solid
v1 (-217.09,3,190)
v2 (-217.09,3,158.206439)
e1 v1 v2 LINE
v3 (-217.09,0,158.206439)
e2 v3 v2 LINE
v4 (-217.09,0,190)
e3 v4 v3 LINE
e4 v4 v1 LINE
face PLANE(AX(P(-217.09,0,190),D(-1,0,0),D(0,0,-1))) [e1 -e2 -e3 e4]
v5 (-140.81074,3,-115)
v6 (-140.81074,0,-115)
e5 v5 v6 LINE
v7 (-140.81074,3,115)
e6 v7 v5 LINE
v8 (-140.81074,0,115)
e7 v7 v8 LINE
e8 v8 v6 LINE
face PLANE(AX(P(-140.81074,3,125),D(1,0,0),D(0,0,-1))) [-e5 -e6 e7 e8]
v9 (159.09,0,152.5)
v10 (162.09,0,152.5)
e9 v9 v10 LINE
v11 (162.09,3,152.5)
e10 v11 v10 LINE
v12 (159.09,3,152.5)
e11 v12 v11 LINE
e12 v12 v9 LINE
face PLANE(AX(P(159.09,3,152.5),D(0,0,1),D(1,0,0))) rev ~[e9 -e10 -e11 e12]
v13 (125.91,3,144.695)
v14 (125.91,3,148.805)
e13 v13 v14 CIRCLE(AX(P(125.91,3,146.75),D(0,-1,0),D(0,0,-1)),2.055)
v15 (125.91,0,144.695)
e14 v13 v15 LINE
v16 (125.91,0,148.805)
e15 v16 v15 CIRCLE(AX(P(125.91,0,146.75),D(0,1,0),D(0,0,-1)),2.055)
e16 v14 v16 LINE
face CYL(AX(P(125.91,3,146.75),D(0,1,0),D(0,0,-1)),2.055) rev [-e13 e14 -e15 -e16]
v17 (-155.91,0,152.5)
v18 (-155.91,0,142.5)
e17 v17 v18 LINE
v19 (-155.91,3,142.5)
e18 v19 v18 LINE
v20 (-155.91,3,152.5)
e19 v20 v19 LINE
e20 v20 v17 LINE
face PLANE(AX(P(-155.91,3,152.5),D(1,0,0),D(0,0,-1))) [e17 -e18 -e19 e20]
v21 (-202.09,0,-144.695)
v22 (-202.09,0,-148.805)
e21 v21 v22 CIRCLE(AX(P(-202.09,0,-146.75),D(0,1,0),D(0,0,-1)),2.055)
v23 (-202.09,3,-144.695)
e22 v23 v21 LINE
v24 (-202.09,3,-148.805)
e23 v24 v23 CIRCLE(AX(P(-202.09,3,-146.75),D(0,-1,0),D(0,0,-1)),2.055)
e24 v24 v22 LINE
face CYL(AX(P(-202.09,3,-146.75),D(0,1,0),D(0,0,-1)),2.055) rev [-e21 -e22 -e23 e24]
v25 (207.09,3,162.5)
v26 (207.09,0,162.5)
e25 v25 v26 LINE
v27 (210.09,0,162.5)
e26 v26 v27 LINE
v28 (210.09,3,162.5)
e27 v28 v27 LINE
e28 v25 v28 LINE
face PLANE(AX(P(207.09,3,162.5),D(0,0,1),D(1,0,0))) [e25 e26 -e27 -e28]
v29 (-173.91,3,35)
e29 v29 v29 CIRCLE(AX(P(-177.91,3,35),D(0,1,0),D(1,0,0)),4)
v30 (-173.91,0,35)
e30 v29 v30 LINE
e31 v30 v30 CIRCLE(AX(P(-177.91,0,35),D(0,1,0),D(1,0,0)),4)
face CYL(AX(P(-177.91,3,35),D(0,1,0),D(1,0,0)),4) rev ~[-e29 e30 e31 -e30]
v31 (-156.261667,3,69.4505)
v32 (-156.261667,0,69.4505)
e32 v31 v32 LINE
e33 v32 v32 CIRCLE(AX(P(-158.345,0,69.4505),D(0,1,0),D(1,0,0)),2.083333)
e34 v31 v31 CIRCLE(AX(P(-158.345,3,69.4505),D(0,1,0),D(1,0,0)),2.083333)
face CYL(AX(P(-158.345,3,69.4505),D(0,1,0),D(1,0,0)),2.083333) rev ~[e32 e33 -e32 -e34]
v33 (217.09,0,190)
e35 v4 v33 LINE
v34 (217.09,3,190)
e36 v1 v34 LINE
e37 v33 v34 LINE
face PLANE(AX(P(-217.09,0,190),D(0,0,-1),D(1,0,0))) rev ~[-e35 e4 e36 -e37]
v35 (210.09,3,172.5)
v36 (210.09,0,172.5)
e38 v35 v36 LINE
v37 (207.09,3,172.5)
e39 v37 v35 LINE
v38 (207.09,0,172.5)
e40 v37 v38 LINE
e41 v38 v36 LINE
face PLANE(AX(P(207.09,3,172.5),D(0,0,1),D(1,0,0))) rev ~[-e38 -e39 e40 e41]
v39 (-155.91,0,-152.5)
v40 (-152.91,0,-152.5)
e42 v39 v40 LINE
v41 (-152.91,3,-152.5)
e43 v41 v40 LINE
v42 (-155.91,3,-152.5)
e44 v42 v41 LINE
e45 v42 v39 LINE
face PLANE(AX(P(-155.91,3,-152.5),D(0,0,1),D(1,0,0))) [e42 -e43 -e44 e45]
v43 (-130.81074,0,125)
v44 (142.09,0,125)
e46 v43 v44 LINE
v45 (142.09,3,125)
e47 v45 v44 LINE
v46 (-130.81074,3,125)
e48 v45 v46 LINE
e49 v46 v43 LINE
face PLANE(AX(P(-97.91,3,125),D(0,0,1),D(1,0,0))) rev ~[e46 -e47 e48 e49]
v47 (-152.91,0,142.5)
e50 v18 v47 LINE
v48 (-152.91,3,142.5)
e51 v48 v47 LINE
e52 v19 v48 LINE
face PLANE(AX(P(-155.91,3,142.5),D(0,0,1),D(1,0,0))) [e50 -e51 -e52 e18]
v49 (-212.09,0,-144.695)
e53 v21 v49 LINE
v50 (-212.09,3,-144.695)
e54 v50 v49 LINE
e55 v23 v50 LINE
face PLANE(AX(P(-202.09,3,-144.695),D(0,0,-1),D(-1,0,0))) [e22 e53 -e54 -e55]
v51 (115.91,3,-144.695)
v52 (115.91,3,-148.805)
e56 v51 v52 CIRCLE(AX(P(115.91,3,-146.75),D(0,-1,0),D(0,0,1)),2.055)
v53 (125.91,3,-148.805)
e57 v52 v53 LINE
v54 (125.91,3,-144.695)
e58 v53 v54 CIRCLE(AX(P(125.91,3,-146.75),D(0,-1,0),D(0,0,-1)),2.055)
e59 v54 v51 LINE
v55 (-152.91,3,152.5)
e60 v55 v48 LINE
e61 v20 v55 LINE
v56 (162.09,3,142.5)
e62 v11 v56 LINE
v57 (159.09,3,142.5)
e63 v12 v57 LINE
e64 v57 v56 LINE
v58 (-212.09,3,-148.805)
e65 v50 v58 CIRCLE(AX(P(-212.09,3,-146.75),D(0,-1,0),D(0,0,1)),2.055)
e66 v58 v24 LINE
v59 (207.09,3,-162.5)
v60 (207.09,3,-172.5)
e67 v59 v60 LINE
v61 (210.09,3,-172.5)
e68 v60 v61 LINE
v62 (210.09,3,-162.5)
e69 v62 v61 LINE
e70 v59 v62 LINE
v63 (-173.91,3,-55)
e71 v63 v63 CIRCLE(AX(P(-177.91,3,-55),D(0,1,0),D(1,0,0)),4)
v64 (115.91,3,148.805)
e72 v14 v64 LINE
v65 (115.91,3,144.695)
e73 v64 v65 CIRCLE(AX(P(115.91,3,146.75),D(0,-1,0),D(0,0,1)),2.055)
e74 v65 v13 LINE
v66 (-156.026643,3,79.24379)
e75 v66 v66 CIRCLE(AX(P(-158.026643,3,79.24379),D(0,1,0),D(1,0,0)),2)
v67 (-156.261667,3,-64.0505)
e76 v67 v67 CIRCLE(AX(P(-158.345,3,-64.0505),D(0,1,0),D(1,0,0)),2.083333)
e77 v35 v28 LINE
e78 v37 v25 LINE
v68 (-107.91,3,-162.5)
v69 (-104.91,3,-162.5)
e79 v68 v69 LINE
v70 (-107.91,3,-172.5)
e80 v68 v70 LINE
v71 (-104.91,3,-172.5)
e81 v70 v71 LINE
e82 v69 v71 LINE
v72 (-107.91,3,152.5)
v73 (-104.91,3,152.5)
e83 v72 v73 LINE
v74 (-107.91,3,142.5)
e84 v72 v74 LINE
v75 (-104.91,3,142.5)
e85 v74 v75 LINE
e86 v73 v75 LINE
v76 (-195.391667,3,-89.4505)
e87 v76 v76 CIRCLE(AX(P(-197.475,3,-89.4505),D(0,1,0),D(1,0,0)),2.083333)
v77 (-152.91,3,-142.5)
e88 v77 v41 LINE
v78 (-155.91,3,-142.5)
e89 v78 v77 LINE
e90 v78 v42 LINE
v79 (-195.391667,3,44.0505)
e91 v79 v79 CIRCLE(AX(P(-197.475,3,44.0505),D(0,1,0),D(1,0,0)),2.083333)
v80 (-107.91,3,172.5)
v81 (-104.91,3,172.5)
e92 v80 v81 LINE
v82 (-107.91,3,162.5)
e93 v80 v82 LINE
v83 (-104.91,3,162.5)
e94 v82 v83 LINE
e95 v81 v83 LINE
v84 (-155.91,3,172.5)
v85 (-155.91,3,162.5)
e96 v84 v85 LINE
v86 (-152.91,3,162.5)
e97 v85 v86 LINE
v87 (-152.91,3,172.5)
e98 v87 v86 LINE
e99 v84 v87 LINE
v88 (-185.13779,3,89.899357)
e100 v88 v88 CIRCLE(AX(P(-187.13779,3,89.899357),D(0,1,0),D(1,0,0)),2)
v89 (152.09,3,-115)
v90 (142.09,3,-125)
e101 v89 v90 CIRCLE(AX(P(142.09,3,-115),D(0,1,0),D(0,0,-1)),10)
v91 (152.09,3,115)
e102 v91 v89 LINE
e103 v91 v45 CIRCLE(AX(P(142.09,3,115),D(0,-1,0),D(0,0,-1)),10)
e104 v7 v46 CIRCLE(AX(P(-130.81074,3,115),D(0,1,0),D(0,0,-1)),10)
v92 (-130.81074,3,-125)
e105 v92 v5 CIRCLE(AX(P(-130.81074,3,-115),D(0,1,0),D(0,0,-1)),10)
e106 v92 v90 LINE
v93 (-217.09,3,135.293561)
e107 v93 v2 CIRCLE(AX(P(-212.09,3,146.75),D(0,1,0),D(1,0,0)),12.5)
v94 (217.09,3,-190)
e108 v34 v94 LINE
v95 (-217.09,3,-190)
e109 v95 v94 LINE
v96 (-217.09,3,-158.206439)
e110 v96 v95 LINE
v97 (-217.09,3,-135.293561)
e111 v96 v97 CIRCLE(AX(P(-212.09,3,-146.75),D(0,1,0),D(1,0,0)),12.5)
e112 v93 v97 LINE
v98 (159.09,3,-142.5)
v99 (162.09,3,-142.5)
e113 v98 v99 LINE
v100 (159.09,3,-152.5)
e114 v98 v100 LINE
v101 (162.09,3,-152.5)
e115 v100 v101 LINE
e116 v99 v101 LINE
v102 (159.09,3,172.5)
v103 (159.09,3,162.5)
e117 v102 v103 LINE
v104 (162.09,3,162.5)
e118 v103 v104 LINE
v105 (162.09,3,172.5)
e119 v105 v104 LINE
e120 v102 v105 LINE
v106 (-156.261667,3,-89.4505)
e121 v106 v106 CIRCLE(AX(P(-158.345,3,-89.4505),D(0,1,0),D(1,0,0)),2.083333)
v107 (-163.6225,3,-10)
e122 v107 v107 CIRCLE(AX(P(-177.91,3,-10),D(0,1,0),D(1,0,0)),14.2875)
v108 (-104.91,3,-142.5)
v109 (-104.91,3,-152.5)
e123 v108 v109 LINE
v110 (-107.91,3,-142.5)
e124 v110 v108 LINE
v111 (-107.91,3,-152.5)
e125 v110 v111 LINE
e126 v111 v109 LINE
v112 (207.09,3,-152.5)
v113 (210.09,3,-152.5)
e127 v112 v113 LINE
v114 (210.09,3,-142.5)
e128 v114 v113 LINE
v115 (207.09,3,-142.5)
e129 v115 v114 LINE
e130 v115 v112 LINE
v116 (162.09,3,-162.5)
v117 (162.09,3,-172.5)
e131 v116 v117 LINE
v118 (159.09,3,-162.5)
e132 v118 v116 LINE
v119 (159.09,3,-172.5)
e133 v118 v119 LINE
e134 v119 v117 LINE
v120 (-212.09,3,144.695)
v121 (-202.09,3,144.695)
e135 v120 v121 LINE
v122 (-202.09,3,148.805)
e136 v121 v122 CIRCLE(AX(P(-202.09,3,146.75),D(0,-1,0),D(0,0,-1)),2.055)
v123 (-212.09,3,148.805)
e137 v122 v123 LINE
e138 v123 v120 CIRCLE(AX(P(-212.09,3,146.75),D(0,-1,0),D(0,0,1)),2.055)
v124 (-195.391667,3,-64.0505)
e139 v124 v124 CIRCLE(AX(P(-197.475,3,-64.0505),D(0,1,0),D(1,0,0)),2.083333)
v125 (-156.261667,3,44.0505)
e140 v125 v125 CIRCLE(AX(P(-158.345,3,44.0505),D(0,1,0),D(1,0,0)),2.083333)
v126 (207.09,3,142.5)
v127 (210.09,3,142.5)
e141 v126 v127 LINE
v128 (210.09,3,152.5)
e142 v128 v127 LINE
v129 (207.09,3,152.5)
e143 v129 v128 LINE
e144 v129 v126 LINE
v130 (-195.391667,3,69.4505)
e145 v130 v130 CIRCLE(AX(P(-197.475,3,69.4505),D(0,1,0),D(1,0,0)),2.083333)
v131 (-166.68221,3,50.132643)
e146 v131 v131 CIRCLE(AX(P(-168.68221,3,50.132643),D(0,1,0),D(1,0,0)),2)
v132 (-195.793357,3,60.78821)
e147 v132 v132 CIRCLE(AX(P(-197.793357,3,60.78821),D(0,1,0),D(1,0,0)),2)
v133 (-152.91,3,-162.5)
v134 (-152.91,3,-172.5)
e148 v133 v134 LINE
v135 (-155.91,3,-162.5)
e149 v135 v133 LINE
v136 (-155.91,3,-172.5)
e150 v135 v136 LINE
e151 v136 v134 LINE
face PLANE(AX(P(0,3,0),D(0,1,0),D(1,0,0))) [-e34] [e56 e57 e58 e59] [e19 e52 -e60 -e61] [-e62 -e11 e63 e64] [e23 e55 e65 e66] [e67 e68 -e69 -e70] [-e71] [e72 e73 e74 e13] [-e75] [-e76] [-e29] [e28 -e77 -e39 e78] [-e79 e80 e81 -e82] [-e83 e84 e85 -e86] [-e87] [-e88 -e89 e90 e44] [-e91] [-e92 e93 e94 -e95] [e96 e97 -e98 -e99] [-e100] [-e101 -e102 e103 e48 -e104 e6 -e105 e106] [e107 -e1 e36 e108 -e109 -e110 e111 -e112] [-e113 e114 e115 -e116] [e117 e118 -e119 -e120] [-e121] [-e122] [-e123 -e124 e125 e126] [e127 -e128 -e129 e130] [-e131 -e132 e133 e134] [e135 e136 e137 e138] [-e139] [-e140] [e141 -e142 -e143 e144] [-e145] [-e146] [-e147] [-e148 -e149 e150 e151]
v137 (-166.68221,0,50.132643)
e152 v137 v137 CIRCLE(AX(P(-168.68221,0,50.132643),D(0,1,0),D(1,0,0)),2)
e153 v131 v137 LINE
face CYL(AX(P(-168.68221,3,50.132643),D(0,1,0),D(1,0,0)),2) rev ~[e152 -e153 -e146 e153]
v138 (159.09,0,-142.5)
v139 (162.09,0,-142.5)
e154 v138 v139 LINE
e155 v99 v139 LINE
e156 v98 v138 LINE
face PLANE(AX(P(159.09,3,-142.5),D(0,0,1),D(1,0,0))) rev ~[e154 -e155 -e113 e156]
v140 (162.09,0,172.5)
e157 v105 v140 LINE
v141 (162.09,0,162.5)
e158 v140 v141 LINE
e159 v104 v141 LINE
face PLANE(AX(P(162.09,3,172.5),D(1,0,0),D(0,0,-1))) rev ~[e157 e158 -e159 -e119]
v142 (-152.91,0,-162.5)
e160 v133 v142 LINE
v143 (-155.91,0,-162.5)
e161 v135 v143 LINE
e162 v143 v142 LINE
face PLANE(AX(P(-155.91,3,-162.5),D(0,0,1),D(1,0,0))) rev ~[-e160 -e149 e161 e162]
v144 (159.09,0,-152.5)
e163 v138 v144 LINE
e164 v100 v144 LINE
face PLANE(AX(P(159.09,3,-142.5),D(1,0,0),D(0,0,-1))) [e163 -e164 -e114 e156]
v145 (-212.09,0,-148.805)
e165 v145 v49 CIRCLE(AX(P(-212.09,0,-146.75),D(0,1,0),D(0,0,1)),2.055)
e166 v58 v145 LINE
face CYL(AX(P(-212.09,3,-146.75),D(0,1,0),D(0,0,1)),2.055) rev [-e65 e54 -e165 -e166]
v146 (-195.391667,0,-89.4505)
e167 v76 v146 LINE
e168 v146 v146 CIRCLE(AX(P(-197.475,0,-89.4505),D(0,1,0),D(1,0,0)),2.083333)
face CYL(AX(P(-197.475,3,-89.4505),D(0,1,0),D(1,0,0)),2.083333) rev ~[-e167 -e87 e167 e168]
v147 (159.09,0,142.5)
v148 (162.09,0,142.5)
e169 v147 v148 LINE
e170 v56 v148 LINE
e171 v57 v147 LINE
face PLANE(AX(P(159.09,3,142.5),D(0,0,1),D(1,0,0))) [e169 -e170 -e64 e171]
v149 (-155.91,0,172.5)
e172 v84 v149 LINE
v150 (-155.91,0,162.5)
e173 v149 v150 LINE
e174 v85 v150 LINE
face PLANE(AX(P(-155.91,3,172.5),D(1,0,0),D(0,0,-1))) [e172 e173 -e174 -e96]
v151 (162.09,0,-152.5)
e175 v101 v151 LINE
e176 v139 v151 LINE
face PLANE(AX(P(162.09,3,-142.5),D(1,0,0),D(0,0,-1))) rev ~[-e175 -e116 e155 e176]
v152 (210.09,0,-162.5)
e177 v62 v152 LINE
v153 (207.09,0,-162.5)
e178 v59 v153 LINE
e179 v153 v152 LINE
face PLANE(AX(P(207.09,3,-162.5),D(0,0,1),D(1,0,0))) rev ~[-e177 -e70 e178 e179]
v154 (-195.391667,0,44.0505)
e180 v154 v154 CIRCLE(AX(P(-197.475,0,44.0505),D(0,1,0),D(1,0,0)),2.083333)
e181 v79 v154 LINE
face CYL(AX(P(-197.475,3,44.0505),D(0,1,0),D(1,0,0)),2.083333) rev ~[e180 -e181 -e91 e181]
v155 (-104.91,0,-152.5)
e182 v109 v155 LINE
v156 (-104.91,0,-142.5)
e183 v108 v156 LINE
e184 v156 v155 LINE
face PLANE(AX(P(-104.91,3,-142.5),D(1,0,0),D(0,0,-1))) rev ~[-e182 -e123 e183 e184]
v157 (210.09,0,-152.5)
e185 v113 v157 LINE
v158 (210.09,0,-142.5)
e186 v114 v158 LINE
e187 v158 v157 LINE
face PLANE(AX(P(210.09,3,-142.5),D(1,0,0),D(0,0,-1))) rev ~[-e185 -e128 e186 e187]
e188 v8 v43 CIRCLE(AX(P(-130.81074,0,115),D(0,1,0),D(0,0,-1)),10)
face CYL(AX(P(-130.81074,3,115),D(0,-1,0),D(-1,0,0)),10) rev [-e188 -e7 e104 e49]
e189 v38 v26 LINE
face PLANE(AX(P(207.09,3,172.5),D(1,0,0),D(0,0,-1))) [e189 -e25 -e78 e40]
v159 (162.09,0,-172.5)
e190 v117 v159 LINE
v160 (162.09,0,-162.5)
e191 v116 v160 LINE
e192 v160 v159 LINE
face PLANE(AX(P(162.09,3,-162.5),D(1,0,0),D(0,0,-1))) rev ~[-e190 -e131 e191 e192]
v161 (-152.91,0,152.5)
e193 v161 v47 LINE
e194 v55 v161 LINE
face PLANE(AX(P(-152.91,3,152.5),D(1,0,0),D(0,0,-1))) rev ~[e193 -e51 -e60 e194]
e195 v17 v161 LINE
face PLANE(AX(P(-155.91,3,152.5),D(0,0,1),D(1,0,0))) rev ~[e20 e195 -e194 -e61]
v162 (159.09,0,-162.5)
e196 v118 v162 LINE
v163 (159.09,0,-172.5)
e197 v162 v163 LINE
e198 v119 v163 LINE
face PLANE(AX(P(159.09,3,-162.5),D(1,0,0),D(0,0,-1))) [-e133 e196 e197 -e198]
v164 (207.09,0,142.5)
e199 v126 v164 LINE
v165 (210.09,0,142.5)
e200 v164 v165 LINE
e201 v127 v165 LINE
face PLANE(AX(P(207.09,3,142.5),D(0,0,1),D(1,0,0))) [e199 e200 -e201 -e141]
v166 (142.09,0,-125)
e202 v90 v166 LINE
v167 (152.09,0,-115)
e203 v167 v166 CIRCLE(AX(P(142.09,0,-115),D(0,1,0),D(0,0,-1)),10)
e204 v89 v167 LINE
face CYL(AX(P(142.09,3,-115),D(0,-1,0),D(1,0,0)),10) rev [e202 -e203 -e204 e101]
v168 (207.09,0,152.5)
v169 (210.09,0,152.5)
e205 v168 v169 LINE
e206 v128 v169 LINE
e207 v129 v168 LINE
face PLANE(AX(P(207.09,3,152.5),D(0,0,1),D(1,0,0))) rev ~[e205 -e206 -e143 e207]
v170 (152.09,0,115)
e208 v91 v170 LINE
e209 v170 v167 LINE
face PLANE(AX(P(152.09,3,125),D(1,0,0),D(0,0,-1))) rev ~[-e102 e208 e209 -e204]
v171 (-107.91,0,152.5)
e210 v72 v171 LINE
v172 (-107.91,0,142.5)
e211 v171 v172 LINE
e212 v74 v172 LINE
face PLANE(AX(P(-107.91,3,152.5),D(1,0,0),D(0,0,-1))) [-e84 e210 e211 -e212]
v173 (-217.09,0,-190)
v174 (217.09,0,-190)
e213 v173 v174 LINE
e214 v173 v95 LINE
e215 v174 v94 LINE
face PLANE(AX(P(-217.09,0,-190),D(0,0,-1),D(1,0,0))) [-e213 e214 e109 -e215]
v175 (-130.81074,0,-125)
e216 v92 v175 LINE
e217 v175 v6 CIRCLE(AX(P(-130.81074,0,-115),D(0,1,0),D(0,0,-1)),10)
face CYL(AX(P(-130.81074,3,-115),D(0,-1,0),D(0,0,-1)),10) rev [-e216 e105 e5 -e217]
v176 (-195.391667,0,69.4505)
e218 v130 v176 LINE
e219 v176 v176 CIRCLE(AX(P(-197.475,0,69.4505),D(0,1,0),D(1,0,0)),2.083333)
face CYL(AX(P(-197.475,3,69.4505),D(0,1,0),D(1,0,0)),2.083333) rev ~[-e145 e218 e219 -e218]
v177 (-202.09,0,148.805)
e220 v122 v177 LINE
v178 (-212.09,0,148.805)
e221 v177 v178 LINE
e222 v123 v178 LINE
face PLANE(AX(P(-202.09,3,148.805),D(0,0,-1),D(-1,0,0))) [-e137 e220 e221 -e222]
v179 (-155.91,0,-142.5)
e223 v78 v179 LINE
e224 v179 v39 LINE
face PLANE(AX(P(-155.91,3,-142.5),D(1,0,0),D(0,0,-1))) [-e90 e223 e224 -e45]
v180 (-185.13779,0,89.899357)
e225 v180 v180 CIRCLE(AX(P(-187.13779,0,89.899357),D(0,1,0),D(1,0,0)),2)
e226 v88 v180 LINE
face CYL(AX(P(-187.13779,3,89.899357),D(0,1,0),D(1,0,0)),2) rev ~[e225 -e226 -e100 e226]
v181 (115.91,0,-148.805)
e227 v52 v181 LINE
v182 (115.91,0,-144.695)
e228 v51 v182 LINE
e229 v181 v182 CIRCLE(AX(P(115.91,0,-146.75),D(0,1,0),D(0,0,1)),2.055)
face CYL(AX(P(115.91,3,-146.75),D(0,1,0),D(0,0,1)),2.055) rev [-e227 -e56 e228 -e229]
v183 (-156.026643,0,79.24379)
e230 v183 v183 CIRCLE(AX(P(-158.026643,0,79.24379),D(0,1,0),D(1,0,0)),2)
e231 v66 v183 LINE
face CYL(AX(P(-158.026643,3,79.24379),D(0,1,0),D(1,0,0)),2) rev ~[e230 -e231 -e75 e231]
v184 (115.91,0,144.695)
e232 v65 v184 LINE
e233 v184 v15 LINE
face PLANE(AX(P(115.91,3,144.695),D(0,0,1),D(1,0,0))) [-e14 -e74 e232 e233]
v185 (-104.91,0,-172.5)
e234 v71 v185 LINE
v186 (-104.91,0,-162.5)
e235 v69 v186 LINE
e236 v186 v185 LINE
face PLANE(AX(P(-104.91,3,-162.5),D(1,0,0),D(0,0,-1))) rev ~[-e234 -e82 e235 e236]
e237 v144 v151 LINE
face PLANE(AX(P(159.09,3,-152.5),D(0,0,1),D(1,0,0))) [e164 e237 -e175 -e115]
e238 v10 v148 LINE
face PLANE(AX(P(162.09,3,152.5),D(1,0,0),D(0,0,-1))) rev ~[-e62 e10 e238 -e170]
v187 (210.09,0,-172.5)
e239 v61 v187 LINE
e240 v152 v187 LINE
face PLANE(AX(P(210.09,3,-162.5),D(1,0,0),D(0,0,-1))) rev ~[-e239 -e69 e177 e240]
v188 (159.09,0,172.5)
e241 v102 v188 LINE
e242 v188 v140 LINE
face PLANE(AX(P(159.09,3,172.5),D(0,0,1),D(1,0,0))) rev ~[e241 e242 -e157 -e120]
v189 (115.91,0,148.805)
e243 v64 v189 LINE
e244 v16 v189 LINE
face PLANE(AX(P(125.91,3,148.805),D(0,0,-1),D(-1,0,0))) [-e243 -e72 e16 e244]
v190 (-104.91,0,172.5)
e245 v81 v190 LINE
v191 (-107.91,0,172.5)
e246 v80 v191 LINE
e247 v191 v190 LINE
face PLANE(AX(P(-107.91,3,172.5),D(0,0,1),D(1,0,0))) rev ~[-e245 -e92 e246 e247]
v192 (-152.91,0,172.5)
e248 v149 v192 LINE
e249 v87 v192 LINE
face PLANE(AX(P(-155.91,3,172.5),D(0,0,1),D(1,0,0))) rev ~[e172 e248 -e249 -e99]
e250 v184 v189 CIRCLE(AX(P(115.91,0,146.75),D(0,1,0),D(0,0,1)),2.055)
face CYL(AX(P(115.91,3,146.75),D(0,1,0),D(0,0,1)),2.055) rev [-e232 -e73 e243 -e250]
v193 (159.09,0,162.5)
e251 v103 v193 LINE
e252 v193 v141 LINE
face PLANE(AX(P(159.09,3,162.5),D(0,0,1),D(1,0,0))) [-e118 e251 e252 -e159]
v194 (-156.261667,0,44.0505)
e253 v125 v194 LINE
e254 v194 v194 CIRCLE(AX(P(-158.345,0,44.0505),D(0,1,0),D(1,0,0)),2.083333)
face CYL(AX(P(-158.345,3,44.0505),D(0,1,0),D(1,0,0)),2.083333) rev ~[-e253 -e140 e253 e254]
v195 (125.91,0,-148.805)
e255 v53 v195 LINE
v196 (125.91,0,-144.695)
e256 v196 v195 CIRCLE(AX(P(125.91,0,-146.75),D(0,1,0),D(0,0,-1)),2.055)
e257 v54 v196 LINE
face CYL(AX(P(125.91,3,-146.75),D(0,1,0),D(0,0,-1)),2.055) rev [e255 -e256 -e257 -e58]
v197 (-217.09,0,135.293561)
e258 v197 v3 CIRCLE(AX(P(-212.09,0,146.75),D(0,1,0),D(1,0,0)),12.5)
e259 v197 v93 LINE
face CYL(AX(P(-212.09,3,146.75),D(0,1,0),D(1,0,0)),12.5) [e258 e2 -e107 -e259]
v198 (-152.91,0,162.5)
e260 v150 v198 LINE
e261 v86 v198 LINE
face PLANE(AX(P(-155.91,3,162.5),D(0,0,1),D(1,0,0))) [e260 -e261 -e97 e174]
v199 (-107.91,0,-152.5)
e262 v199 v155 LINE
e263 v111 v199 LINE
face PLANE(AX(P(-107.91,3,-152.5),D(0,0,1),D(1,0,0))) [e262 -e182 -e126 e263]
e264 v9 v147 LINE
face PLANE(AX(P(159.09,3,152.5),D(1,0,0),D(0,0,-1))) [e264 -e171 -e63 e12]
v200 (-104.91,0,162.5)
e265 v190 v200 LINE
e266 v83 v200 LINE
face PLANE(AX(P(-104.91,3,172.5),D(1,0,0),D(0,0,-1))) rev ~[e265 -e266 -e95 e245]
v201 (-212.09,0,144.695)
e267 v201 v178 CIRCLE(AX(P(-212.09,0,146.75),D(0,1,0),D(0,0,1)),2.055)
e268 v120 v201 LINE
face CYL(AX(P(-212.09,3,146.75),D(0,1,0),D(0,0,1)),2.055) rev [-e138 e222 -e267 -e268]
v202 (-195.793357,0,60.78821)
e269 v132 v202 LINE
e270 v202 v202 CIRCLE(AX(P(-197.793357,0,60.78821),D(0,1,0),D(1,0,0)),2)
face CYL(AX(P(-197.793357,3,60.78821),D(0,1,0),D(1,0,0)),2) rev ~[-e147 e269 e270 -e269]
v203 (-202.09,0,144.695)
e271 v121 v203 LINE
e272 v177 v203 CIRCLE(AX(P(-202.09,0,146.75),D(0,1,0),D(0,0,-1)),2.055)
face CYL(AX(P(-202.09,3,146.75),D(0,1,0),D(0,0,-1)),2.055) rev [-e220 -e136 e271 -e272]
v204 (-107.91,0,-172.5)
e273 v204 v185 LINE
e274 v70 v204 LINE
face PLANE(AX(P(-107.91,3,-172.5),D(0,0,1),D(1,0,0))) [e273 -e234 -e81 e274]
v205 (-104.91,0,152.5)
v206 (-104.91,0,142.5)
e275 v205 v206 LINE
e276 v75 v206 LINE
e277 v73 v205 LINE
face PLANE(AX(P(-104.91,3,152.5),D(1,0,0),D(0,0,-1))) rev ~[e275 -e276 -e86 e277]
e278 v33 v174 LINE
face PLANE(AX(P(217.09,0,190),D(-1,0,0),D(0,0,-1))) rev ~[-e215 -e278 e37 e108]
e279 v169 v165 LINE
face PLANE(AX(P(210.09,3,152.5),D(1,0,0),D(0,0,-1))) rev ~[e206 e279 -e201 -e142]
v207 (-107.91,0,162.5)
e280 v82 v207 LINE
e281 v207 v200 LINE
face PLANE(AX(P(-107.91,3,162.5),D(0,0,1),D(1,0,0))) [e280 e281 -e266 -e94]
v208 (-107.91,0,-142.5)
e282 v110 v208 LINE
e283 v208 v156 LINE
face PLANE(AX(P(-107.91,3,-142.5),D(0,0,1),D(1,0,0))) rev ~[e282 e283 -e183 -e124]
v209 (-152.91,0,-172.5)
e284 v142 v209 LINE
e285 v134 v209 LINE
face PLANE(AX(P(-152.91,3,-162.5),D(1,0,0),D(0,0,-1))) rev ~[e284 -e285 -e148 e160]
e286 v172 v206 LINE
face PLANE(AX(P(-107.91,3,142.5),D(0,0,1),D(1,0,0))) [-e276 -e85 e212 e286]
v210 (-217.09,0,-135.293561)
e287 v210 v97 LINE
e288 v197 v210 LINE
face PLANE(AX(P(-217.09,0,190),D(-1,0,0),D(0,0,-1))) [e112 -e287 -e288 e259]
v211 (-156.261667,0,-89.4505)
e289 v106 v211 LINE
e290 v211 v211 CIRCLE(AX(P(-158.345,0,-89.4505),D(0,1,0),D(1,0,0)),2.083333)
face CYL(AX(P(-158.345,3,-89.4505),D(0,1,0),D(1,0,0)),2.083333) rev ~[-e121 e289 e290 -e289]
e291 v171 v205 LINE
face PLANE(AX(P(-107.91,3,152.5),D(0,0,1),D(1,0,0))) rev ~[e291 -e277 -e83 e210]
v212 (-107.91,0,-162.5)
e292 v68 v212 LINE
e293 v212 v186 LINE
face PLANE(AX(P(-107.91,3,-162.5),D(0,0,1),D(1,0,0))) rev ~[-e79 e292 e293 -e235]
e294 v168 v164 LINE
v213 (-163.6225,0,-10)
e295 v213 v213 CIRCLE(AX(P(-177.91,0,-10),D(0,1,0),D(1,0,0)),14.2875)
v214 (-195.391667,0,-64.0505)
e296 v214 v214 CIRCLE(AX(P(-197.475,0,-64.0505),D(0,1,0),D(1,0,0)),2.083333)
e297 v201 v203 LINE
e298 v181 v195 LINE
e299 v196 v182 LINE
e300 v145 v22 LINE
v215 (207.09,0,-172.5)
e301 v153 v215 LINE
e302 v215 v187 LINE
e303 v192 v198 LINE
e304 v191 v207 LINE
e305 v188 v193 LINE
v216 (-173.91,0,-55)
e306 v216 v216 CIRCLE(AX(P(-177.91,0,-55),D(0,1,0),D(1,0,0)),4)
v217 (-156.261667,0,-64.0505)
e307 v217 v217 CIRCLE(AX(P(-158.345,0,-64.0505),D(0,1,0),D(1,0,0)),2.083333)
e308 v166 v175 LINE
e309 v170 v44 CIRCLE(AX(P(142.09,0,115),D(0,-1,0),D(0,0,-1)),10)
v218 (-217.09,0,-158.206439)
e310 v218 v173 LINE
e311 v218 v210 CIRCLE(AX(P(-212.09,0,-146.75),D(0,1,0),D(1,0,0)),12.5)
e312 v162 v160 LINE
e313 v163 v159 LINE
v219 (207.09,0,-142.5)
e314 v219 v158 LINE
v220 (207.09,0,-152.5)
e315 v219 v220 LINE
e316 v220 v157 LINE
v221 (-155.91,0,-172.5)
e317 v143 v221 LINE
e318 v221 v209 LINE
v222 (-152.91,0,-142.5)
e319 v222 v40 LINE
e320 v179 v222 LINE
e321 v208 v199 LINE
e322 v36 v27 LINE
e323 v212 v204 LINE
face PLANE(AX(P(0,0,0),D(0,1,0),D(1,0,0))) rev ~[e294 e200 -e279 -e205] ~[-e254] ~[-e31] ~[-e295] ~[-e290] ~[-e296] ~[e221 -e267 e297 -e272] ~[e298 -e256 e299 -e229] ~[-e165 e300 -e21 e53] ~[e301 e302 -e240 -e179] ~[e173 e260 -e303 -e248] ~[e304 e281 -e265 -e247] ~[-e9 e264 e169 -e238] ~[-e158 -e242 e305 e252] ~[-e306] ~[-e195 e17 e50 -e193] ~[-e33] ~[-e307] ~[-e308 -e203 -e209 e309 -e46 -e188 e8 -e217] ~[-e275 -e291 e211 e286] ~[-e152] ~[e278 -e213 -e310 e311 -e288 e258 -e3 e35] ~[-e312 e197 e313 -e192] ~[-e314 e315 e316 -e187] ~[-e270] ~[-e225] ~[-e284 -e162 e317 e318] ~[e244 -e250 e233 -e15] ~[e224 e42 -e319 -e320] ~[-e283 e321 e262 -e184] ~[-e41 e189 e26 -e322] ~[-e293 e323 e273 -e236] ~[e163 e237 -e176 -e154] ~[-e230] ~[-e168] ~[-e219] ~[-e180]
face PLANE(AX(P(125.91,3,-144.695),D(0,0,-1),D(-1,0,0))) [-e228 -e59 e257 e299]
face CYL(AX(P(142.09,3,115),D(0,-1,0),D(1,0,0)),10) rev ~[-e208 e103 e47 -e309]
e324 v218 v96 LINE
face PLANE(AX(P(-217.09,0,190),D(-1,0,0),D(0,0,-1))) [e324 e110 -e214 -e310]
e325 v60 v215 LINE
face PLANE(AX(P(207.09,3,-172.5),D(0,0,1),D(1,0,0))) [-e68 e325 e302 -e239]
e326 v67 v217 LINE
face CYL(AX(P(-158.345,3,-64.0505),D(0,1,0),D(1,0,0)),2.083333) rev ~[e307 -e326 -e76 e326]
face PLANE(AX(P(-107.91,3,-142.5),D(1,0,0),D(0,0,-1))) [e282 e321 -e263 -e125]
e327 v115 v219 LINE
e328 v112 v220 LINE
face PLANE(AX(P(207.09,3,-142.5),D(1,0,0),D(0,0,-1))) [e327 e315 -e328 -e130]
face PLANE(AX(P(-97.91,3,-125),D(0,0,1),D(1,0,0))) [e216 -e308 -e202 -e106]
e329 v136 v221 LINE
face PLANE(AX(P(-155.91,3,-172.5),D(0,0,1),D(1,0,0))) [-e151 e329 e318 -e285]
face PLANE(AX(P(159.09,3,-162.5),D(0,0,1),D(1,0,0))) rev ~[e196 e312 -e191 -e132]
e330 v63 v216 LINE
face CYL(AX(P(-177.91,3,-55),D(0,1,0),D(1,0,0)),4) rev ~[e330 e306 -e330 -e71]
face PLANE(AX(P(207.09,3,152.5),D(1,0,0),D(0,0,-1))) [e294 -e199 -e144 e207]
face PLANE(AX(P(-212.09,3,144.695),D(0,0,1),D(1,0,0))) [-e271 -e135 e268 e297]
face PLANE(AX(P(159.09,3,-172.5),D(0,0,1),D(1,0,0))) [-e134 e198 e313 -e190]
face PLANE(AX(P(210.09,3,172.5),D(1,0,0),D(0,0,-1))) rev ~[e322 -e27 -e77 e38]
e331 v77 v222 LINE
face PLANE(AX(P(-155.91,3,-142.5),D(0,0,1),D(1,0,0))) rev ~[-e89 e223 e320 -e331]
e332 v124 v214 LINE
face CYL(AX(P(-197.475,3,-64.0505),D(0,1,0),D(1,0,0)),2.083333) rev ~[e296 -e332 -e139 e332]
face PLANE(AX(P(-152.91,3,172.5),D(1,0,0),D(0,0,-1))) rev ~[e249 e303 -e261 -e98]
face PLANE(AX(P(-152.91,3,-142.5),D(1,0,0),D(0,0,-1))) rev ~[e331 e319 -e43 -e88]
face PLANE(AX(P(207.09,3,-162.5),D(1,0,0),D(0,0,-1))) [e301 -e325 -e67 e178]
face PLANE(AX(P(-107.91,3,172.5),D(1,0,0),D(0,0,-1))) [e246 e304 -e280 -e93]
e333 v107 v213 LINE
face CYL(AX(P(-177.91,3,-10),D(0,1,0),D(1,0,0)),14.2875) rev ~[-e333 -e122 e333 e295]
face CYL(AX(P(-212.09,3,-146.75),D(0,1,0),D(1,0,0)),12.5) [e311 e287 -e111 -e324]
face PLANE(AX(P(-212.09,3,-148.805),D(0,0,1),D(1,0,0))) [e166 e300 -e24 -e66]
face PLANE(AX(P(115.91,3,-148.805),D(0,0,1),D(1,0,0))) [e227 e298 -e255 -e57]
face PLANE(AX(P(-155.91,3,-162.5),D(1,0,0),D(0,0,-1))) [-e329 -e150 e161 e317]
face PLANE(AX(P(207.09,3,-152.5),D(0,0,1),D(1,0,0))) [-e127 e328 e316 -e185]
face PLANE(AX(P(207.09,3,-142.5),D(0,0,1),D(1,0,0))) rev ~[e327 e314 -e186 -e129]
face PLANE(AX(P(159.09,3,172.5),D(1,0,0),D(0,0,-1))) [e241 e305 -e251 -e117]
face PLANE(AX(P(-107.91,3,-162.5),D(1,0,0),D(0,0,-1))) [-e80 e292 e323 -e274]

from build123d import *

# Parameters (mm, degrees)
SKETCH1_W           = 434.18
SKETCH1_H           = 380
BOSS_EXTRUDE1_DEPTH = 3
SKETCH2_W           = 250
SKETCH2_H           = 250
CUT_EXTRUDE1_DEPTH  = 4
SKETCH3_W           = 3
SKETCH3_H           = 10
CUT_EXTRUDE2_DEPTH  = 4
SKETCH6_R           = 14.2875
SKETCH6_R_2         = 2
SKETCH6_R_3         = 2.083333333
SKETCH6_R_4         = 4
CUT_EXTRUDE3_DEPTH  = 4
SKETCH7_W           = 83.283399819
SKETCH7_H           = 250
CUT_EXTRUDE4_DEPTH  = 4
FILLET1_R           = 10
CUT_EXTRUDE5_DEPTH  = 4
SKETCH9_R           = 12.5
BOSS_EXTRUDE2_DEPTH = 3


with BuildPart() as part:
    # Sketch1 → Boss-Extrude1 (new body)
    with BuildSketch(Plane(origin=(0, 0, 0), x_dir=(1, 0, 0), z_dir=(0, 1, 0))):
        Rectangle(SKETCH1_W, SKETCH1_H)
    extrude(amount=BOSS_EXTRUDE1_DEPTH)

    # Sketch2 → Cut-Extrude1 (cut, through all)
    with BuildSketch(Plane(origin=(0, 3, 0), x_dir=(1, 0, 0), z_dir=(0, 1, 0))):
        with Locations((27.09, 0)):
            Rectangle(SKETCH2_W, SKETCH2_H)
    extrude(amount=-CUT_EXTRUDE1_DEPTH, mode=Mode.SUBTRACT)

    # Sketch3 → Cut-Extrude2 (cut, through all)
    with BuildSketch(Plane(origin=(0, 3, 0), x_dir=(1, 0, 0), z_dir=(0, 1, 0))):
        with Locations((160.59, -147.5)):
            Rectangle(SKETCH3_W, SKETCH3_H)
        with Locations((160.59, -167.5)):
            Rectangle(SKETCH3_W, SKETCH3_H)
        with Locations((208.59, -147.5)):
            Rectangle(SKETCH3_W, SKETCH3_H)
        with Locations((208.59, -167.5)):
            Rectangle(SKETCH3_W, SKETCH3_H)
        with Locations((-154.41, -147.5)):
            Rectangle(SKETCH3_W, SKETCH3_H)
        with Locations((-154.41, -167.5)):
            Rectangle(SKETCH3_W, SKETCH3_H)
        with Locations((-106.41, -167.5)):
            Rectangle(SKETCH3_W, SKETCH3_H)
        with Locations((-106.41, -147.5)):
            Rectangle(SKETCH3_W, SKETCH3_H)
        with Locations((208.59, 147.5)):
            Rectangle(SKETCH3_W, SKETCH3_H)
        with Locations((208.59, 167.5)):
            Rectangle(SKETCH3_W, SKETCH3_H)
        with Locations((160.59, 167.5)):
            Rectangle(SKETCH3_W, SKETCH3_H)
        with Locations((160.59, 147.5)):
            Rectangle(SKETCH3_W, SKETCH3_H)
        with Locations((-106.41, 147.5)):
            Rectangle(SKETCH3_W, SKETCH3_H)
        with Locations((-106.41, 167.5)):
            Rectangle(SKETCH3_W, SKETCH3_H)
        with Locations((-154.41, 167.5)):
            Rectangle(SKETCH3_W, SKETCH3_H)
        with Locations((-154.41, 147.5)):
            Rectangle(SKETCH3_W, SKETCH3_H)
    extrude(amount=-CUT_EXTRUDE2_DEPTH, mode=Mode.SUBTRACT)

    # Sketch6 → Cut-Extrude3 (cut, through all)
    with BuildSketch(Plane(origin=(0, 3, 0), x_dir=(1, 0, 0), z_dir=(0, 1, 0))):
        with Locations((-177.91, 10)):
            Circle(SKETCH6_R)
        with Locations((-197.793356941, -60.788209542)):
            Circle(SKETCH6_R_2)
        with Locations((-187.137790458, -89.899356941)):
            Circle(SKETCH6_R_2)
        with Locations((-158.026643059, -79.243790458)):
            Circle(SKETCH6_R_2)
        with Locations((-168.682209542, -50.132643059)):
            Circle(SKETCH6_R_2)
        with Locations((-158.345, 64.0505)):
            Circle(SKETCH6_R_3)
        with Locations((-197.475, 64.0505)):
            Circle(SKETCH6_R_3)
        with Locations((-197.475, -44.0505)):
            Circle(SKETCH6_R_3)
        with Locations((-158.345, -44.0505)):
            Circle(SKETCH6_R_3)
        with Locations((-197.475, 89.4505)):
            Circle(SKETCH6_R_3)
        with Locations((-158.345, 89.4505)):
            Circle(SKETCH6_R_3)
        with Locations((-158.345, -69.4505)):
            Circle(SKETCH6_R_3)
        with Locations((-197.475, -69.4505)):
            Circle(SKETCH6_R_3)
        with Locations((-177.91, -35)):
            Circle(SKETCH6_R_4)
        with Locations((-177.91, 55)):
            Circle(SKETCH6_R_4)
    extrude(amount=-CUT_EXTRUDE3_DEPTH, mode=Mode.SUBTRACT)

    # Sketch7 → Cut-Extrude4 (cut, through all)
    with BuildSketch(Plane(origin=(0, 3, 0), x_dir=(1, 0, 0), z_dir=(0, 1, 0))):
        with Locations((-99.169040346, 0)):
            Rectangle(SKETCH7_W, SKETCH7_H)
    extrude(amount=-CUT_EXTRUDE4_DEPTH, mode=Mode.SUBTRACT)

    # Fillet1
    fillet1_edges = [part.edges().sort_by_distance(p)[0] for p in [
        (152.09, 1.5, -125),
        (152.09, 1.5, 125),
        (-140.810740255, 1.5, -125),
        (-140.810740255, 1.5, 125),
    ]]
    fillet(fillet1_edges, radius=FILLET1_R)

    # Sketch8 → Cut-Extrude5 (cut, through all)
    with BuildSketch(Plane(origin=(0, 3, 0), x_dir=(1, 0, 0), z_dir=(0, 1, 0))):
        with BuildLine():
            Line((-212.09, 148.805), (-202.09, 148.805))
            ThreePointArc((-202.09, 148.805), (-200.035, 146.75), (-202.09, 144.695))
            Line((-202.09, 144.695), (-212.09, 144.695))
            ThreePointArc((-212.09, 144.695), (-214.145, 146.75), (-212.09, 148.805))
        make_face()
        with BuildLine():
            Line((-212.09, -144.695), (-202.09, -144.695))
            ThreePointArc((-202.09, -144.695), (-200.035, -146.75), (-202.09, -148.805))
            Line((-202.09, -148.805), (-212.09, -148.805))
            ThreePointArc((-212.09, -148.805), (-214.145, -146.75), (-212.09, -144.695))
        make_face()
        with BuildLine():
            Line((115.91, -144.695), (125.91, -144.695))
            ThreePointArc((125.91, -144.695), (127.965, -146.75), (125.91, -148.805))
            Line((125.91, -148.805), (115.91, -148.805))
            ThreePointArc((115.91, -148.805), (113.855, -146.75), (115.91, -144.695))
        make_face()
        with BuildLine():
            Line((115.91, 148.805), (125.91, 148.805))
            ThreePointArc((125.91, 148.805), (127.965, 146.75), (125.91, 144.695))
            Line((125.91, 144.695), (115.91, 144.695))
            ThreePointArc((115.91, 144.695), (113.855, 146.75), (115.91, 148.805))
        make_face()
    extrude(amount=-CUT_EXTRUDE5_DEPTH, mode=Mode.SUBTRACT)

    # Sketch9 → Boss-Extrude2 (add)
    with BuildSketch(Plane(origin=(0, 3, 0), x_dir=(1, 0, 0), z_dir=(0, 1, 0))):
        with Locations((-212.09, 146.75)):
            Circle(SKETCH9_R)
        with BuildLine():
            ThreePointArc((-212.09, 148.805), (-214.145, 146.75), (-212.09, 144.695))
            Line((-212.09, 144.695), (-202.09, 144.695))
            ThreePointArc((-202.09, 144.695), (-200.035, 146.75), (-202.09, 148.805))
            Line((-202.09, 148.805), (-212.09, 148.805))
        make_face(mode=Mode.SUBTRACT)
        with Locations((-212.09, -146.75)):
            Circle(SKETCH9_R)
        with BuildLine():
            ThreePointArc((-212.09, -144.695), (-214.145, -146.75), (-212.09, -148.805))
            Line((-212.09, -148.805), (-202.09, -148.805))
            ThreePointArc((-202.09, -148.805), (-200.035, -146.75), (-202.09, -144.695))
            Line((-202.09, -144.695), (-212.09, -144.695))
        make_face(mode=Mode.SUBTRACT)
    extrude(amount=-BOSS_EXTRUDE2_DEPTH)


solid = part.part
